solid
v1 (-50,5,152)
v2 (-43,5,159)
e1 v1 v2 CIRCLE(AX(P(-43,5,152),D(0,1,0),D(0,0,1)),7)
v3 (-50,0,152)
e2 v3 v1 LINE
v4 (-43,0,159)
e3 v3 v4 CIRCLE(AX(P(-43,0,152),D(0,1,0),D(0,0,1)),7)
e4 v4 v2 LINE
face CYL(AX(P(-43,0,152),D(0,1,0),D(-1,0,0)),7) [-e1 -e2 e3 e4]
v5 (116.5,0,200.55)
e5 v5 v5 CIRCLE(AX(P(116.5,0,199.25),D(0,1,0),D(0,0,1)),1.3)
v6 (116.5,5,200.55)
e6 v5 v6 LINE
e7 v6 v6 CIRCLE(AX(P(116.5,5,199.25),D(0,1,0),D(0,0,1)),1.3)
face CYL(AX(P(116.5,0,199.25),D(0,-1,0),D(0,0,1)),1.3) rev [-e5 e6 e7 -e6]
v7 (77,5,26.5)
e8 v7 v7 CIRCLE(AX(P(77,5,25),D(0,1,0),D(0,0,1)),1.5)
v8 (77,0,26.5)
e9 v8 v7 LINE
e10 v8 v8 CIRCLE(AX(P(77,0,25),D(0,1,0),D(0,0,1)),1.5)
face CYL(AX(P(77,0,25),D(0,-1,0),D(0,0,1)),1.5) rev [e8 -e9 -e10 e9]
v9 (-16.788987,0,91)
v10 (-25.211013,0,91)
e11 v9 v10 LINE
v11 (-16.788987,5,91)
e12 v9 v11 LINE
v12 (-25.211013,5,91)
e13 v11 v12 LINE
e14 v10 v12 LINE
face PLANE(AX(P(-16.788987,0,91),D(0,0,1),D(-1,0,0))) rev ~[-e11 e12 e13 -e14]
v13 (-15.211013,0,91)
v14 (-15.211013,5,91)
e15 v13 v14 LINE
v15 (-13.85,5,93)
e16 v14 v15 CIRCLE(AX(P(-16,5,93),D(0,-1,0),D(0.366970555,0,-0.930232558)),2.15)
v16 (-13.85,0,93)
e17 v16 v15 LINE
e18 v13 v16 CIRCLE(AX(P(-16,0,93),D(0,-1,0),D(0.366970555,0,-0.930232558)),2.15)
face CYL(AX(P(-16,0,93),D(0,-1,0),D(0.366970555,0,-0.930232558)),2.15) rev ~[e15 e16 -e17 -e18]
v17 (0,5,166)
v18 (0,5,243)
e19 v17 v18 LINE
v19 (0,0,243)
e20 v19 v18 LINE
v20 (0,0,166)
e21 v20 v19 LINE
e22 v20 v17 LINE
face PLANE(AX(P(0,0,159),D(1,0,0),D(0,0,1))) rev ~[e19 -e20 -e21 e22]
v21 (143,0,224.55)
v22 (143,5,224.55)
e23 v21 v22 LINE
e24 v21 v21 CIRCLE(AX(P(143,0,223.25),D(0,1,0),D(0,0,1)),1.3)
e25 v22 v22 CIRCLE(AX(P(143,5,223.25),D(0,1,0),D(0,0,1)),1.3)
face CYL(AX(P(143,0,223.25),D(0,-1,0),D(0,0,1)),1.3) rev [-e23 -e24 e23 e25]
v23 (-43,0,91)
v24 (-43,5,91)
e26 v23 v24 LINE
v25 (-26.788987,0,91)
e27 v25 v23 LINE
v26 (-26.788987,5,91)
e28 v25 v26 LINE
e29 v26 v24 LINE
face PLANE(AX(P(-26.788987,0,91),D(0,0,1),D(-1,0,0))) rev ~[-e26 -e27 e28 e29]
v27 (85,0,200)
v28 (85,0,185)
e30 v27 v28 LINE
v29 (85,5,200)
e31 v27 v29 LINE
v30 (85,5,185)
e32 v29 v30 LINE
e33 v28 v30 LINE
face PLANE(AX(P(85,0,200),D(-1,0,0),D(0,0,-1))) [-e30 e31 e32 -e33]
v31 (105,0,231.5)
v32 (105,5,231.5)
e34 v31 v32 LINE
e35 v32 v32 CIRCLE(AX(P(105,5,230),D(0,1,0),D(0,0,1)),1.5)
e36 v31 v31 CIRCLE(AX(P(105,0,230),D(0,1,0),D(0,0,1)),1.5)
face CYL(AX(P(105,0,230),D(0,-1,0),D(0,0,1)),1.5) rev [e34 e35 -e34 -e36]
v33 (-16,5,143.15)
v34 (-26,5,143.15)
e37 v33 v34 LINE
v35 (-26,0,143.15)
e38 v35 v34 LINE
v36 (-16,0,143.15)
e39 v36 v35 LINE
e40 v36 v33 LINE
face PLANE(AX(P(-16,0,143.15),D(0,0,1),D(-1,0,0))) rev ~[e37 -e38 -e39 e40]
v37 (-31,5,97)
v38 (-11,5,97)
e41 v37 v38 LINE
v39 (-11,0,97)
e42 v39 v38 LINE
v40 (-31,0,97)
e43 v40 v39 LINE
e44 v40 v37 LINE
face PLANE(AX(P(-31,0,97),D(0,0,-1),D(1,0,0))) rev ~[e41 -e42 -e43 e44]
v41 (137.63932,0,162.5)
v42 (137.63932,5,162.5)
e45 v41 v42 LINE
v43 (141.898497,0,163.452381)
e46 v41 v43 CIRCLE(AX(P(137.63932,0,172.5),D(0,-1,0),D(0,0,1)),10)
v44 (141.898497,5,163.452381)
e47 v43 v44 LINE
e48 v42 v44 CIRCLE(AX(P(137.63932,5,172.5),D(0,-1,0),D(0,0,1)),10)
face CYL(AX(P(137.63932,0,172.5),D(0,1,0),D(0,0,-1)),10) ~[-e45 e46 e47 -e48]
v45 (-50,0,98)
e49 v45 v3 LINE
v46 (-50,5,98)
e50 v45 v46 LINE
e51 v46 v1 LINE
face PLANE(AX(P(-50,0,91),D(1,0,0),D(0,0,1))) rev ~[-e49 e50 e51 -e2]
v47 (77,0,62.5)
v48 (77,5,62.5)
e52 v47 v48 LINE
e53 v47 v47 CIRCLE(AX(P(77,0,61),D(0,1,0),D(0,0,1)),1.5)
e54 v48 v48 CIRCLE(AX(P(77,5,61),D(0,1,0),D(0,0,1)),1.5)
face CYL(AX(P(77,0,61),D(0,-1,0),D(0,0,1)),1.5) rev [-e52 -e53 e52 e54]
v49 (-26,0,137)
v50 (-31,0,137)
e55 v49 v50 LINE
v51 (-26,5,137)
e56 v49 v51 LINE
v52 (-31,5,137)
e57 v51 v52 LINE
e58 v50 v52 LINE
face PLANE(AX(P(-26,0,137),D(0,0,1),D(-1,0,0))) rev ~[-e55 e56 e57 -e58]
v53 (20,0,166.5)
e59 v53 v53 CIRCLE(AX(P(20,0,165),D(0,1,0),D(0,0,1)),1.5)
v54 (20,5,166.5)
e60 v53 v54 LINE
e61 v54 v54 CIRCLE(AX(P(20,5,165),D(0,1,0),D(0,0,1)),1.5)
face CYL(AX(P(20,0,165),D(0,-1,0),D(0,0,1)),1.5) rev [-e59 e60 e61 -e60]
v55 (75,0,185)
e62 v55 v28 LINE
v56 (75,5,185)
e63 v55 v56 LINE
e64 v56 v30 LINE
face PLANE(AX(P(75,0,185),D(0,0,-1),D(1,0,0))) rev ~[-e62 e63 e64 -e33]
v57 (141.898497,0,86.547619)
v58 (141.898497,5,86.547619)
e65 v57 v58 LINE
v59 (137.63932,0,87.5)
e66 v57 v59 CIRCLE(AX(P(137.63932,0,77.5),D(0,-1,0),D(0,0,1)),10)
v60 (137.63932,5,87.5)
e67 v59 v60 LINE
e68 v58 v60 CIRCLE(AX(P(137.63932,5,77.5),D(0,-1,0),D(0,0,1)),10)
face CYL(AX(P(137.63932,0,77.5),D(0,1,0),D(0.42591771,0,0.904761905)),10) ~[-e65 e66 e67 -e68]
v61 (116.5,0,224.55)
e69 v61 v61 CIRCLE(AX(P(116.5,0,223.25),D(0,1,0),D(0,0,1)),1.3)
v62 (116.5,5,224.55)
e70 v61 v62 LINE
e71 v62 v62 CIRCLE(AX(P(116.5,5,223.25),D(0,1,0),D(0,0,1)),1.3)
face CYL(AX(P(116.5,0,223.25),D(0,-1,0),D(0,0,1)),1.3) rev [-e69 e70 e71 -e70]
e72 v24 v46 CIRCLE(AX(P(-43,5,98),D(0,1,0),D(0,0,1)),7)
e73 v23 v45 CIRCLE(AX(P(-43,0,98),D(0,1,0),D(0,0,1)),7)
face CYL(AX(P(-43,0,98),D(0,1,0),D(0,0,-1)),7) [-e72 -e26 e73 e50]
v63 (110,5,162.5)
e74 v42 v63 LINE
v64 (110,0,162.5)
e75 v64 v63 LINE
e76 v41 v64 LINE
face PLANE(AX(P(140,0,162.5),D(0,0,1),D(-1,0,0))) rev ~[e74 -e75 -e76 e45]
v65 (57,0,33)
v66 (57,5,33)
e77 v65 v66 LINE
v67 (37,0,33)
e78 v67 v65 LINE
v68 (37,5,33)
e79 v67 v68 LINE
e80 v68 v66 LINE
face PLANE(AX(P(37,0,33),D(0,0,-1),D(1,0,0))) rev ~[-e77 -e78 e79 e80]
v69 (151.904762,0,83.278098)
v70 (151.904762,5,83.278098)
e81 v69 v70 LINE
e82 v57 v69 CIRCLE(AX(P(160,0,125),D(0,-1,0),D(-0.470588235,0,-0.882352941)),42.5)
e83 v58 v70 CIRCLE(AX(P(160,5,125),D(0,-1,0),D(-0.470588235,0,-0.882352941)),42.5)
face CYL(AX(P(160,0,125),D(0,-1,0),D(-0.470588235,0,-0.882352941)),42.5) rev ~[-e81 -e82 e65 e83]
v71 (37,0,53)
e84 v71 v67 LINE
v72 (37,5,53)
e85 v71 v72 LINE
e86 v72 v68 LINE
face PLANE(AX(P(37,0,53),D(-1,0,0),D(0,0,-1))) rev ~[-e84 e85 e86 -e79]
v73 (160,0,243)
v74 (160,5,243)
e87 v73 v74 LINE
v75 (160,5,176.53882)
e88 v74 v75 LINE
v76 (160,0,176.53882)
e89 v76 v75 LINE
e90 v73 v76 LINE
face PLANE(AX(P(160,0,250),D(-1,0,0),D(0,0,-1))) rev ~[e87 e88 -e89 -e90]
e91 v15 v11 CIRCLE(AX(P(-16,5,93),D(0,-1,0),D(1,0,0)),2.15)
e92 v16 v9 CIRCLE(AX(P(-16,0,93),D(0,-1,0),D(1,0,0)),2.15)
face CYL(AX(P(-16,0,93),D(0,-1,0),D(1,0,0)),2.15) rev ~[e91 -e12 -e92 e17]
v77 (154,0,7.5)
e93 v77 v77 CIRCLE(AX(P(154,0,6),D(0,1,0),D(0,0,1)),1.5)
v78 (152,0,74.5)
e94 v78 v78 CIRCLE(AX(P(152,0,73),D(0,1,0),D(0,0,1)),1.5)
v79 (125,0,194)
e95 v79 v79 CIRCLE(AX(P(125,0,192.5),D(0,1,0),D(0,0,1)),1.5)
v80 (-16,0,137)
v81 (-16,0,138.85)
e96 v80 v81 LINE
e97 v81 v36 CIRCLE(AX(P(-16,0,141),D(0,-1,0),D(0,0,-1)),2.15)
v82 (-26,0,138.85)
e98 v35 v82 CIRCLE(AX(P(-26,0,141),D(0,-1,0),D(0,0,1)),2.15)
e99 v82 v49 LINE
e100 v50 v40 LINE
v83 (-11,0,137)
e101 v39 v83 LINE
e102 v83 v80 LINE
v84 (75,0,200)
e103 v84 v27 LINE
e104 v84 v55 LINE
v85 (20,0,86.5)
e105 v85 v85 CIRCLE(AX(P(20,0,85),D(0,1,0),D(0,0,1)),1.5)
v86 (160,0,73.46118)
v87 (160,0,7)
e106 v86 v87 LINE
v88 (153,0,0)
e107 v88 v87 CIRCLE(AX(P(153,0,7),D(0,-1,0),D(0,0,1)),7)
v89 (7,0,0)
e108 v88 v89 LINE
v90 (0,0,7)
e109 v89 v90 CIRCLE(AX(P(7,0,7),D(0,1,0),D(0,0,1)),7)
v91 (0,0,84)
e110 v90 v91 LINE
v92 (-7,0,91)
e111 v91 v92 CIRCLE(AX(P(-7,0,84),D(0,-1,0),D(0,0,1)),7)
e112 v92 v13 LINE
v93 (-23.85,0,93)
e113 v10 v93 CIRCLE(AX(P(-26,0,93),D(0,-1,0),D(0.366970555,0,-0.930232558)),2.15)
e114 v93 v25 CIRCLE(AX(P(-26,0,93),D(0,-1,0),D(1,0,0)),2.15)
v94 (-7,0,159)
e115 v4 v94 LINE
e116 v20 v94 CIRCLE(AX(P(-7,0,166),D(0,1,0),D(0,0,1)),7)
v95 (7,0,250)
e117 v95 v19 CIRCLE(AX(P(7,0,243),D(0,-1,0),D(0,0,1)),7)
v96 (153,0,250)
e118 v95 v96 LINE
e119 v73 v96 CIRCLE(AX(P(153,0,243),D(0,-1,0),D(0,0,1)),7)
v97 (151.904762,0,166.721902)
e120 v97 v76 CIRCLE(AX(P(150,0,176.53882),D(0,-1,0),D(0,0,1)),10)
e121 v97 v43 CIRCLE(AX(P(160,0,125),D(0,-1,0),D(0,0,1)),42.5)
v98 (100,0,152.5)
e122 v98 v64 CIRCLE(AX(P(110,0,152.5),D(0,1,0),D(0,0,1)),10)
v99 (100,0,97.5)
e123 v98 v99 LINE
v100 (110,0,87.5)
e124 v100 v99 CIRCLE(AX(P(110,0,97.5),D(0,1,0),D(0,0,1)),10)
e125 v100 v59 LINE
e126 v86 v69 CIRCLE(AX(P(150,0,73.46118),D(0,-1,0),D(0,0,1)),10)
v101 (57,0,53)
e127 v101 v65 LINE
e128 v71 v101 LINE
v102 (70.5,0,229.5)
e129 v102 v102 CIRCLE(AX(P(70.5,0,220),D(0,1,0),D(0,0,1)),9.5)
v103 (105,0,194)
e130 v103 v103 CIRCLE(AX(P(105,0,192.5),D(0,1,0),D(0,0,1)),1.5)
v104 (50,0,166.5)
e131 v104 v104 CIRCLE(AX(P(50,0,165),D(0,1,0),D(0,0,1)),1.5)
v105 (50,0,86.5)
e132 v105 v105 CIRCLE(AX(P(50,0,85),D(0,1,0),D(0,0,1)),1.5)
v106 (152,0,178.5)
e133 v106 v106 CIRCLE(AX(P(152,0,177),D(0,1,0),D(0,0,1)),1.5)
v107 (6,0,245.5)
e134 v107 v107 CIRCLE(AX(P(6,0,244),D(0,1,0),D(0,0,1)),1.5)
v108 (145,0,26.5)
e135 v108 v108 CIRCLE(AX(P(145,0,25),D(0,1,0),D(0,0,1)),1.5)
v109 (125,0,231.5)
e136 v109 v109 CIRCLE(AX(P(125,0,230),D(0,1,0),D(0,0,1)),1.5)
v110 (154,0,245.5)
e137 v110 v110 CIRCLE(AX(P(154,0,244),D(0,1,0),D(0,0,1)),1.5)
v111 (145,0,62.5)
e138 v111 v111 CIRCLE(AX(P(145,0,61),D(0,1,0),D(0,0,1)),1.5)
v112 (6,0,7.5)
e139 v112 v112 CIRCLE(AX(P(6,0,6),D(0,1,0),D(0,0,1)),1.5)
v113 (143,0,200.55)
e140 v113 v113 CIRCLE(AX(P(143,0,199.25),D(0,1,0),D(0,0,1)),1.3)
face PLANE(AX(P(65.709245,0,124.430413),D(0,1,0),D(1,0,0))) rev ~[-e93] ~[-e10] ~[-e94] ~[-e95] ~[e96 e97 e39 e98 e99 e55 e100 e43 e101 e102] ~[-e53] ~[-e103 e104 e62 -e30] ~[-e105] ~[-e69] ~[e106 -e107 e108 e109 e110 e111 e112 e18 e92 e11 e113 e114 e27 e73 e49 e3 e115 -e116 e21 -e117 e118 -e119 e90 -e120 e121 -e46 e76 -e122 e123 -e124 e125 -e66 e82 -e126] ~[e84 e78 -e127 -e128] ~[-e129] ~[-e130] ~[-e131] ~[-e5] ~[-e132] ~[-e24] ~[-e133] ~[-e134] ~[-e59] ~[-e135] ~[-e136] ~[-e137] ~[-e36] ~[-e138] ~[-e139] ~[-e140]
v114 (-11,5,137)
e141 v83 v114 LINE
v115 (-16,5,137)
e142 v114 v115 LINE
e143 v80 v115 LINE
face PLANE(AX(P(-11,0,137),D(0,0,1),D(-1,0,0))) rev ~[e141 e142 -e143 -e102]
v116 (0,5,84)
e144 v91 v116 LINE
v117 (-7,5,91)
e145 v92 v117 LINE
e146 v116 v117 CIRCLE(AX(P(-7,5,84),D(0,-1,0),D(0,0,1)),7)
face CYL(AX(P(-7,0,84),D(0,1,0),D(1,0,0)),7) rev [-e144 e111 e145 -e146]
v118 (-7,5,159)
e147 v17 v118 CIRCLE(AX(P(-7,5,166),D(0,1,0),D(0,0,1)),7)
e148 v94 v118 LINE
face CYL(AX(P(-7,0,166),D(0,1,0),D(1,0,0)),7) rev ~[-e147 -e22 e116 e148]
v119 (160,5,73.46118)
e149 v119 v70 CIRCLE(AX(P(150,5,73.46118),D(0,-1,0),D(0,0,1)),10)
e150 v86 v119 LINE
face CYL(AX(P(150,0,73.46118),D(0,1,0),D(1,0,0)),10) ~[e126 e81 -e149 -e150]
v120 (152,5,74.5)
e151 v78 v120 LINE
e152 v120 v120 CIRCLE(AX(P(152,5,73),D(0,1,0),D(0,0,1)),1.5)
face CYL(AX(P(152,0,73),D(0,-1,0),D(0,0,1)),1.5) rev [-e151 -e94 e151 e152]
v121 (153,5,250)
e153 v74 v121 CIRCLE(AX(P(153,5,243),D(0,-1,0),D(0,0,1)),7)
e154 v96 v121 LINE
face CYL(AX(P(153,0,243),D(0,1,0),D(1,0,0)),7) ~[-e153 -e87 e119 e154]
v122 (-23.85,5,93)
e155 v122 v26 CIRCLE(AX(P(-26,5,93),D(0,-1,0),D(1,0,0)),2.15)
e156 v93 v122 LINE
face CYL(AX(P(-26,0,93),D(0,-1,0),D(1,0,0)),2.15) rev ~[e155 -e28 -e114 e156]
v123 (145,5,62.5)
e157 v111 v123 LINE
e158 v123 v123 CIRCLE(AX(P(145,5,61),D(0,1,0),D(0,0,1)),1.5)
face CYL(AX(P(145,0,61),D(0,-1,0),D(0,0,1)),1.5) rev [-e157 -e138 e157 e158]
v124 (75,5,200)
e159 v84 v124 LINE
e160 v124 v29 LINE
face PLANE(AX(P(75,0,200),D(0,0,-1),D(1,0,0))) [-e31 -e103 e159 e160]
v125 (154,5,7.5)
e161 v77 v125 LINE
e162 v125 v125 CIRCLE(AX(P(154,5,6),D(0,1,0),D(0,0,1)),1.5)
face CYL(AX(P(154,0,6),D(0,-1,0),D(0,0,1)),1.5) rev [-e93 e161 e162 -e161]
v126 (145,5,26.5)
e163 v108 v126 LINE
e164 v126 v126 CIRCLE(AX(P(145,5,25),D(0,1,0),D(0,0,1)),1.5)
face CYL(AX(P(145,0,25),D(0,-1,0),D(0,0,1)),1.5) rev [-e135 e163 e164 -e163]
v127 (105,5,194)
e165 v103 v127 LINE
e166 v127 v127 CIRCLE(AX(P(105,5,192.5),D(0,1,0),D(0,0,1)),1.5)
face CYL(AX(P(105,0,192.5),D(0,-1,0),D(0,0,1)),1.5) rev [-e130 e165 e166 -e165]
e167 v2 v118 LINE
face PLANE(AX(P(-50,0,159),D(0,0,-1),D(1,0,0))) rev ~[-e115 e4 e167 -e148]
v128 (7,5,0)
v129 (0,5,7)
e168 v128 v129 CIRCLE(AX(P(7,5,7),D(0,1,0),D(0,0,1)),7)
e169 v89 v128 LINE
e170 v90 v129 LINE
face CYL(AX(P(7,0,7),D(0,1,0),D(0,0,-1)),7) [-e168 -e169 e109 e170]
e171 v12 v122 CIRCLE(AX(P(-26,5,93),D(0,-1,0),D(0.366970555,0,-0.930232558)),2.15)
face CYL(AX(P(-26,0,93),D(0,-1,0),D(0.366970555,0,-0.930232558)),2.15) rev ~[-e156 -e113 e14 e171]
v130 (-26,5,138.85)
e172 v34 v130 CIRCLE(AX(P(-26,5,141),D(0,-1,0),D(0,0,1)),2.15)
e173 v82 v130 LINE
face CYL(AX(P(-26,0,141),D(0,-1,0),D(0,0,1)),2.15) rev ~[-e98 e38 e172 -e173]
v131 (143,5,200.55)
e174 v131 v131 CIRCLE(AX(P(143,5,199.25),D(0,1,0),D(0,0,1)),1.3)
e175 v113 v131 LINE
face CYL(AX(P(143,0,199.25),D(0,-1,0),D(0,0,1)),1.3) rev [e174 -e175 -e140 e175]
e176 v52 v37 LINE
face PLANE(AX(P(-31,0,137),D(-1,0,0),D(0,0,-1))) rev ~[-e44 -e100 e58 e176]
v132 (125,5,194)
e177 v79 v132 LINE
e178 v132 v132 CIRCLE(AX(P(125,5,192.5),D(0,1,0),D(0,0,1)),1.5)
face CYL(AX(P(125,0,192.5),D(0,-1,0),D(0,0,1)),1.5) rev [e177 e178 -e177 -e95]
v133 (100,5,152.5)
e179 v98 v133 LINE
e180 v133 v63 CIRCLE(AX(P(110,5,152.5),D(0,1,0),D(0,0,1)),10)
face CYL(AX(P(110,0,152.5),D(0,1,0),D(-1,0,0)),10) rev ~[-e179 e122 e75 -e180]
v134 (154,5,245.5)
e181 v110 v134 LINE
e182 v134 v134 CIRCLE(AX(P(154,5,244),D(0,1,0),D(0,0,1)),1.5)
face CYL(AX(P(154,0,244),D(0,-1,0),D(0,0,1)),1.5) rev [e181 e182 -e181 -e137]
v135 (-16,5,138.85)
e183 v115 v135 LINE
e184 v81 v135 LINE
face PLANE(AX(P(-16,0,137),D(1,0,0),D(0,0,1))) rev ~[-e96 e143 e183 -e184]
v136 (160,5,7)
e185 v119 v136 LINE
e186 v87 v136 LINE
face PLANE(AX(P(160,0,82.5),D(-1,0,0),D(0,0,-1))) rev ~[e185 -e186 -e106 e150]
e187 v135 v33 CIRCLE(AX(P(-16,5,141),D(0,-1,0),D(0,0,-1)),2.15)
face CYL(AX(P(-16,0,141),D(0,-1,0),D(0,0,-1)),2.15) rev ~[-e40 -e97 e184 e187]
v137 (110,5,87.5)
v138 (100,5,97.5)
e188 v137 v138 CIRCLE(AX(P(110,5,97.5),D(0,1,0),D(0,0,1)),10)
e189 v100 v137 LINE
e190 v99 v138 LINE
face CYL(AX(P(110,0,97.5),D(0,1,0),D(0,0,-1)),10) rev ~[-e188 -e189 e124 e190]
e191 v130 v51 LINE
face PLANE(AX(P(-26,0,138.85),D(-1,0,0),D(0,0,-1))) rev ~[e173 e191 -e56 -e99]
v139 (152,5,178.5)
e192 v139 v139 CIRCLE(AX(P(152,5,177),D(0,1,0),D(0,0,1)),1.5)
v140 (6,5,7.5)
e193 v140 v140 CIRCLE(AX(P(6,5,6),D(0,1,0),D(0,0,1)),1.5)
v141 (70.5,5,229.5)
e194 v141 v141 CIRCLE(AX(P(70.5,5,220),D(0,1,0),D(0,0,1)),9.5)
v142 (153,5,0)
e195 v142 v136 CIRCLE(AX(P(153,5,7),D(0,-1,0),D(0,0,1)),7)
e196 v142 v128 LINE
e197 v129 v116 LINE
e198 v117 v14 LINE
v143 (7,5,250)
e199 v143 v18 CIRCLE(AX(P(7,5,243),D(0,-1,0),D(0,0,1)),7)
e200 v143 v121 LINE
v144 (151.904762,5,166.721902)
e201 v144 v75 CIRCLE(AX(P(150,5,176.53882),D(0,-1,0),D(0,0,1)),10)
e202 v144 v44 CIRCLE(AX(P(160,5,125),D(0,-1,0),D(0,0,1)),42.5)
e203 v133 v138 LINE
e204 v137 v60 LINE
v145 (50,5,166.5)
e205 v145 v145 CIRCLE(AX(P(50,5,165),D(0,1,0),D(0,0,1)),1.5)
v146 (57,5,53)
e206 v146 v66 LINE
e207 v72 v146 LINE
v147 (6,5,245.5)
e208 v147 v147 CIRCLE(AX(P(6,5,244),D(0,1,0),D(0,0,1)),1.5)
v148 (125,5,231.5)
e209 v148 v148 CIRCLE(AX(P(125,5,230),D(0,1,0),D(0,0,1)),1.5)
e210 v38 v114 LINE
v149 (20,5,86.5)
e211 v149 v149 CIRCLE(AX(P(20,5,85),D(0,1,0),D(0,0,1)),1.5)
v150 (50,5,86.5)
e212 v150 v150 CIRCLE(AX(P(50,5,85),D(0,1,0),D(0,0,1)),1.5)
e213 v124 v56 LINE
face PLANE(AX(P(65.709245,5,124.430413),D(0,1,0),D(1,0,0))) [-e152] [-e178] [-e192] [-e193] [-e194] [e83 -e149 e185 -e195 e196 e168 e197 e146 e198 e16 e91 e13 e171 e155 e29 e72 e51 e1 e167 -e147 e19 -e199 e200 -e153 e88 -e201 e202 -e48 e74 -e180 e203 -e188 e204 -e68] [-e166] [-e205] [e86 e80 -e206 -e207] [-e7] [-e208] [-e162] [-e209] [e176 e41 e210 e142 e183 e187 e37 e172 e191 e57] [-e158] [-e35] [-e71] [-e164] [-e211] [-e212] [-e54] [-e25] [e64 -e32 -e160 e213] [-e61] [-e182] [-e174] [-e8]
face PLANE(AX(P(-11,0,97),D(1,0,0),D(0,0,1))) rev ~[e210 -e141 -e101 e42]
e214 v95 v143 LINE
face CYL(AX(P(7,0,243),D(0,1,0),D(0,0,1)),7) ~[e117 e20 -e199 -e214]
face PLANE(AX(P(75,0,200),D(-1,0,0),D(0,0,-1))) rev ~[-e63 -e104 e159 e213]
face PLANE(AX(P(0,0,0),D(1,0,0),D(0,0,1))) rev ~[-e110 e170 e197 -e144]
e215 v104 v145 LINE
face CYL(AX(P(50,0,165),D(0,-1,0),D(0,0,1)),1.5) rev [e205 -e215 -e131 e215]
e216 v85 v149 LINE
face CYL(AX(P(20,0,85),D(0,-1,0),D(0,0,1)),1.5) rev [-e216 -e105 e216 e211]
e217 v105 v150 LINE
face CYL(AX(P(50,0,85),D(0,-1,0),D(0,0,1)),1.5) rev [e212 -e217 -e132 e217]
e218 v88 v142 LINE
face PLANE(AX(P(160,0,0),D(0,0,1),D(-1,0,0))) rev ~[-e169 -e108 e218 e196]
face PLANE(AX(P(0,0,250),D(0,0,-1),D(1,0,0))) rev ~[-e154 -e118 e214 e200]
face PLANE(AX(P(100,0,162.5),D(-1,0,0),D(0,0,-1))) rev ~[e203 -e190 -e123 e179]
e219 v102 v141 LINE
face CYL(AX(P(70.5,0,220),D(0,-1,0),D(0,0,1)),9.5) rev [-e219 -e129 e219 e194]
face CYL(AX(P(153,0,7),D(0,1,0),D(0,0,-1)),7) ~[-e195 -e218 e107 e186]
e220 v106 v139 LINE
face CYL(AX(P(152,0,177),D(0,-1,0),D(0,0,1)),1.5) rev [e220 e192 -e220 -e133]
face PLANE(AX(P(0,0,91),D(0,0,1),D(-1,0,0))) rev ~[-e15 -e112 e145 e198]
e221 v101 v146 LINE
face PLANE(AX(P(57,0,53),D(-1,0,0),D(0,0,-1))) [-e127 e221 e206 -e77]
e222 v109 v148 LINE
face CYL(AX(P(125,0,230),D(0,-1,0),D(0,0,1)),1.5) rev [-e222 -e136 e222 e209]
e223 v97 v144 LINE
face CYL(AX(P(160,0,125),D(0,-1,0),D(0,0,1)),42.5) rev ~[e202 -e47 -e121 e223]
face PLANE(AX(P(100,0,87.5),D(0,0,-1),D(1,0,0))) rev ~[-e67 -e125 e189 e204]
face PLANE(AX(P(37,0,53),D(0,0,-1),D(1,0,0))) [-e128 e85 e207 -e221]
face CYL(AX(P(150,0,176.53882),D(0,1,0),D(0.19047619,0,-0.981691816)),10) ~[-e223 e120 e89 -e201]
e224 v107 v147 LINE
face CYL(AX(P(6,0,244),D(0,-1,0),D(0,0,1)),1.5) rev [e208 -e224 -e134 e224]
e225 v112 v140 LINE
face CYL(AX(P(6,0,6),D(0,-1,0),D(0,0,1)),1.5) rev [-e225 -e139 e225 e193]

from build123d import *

# Parameters (mm, degrees)
SKETCH_1_R      = 1.5
SKETCH_1_R_2    = 9.5
SKETCH_1_W      = 10
SKETCH_1_H      = 15
SKETCH_1_R_3    = 1.3
SKETCH_1_W_2    = 20
SKETCH_1_H_2    = 20
EXTRUDE_1_DEPTH = 5
FILLET_1_R      = 7
FILLET_2_R      = 10


with BuildPart() as part:
    # 草图1 → 凸台-拉伸1 (new body)
    with BuildSketch(Plane(origin=(0, 0, 0), x_dir=(1, 0, 0), z_dir=(0, 1, 0))):
        with BuildLine():
            Line((160, 0), (0, 0))
            Line((0, 0), (0, -91))
            Line((0, -91), (-15.211013308, -91))
            ThreePointArc((-15.211013308, -91), (-14.22252688, -91.790417714), (-13.85, -93))
            ThreePointArc((-13.85, -93), (-17.209582286, -94.77747312), (-16.788986692, -91))
            Line((-16.788986692, -91), (-25.211013308, -91))
            ThreePointArc((-25.211013308, -91), (-24.22252688, -91.790417714), (-23.85, -93))
            ThreePointArc((-23.85, -93), (-27.209582286, -94.77747312), (-26.788986692, -91))
            Line((-26.788986692, -91), (-50, -91))
            Line((-50, -91), (-50, -159))
            Line((-50, -159), (0, -159))
            Line((0, -159), (0, -250))
            Line((0, -250), (160, -250))
            Line((160, -250), (160, -167.5))
            ThreePointArc((160, -167.5), (149.692235936, -166.231056256), (140, -162.5))
            Line((140, -162.5), (100, -162.5))
            Line((100, -162.5), (100, -87.5))
            Line((100, -87.5), (140, -87.5))
            ThreePointArc((140, -87.5), (149.692235936, -83.768943744), (160, -82.5))
            Line((160, -82.5), (160, 0))
        make_face()
        with Locations(Location((6, -244, 0), (0, 0, 270))):
            Circle(SKETCH_1_R, mode=Mode.SUBTRACT)
        with Locations(Location((20, -165, 0), (0, 0, 270))):
            Circle(SKETCH_1_R, mode=Mode.SUBTRACT)
        with Locations(Location((50, -165, 0), (0, 0, 270))):
            Circle(SKETCH_1_R, mode=Mode.SUBTRACT)
        with Locations(Location((70.5, -220, 0), (0, 0, 270))):
            Circle(SKETCH_1_R_2, mode=Mode.SUBTRACT)
        with Locations(Location((105, -230, 0), (0, 0, 270))):
            Circle(SKETCH_1_R, mode=Mode.SUBTRACT)
        with Locations((80, -192.5)):
            Rectangle(SKETCH_1_W, SKETCH_1_H, mode=Mode.SUBTRACT)
        with Locations(Location((105, -192.5, 0), (0, 0, 270))):
            Circle(SKETCH_1_R, mode=Mode.SUBTRACT)
        with Locations(Location((116.5, -223.25, 0), (0, 0, 270))):
            Circle(SKETCH_1_R_3, mode=Mode.SUBTRACT)
        with Locations(Location((125, -230, 0), (0, 0, 270))):
            Circle(SKETCH_1_R, mode=Mode.SUBTRACT)
        with Locations(Location((154, -244, 0), (0, 0, 270))):
            Circle(SKETCH_1_R, mode=Mode.SUBTRACT)
        with Locations(Location((143, -223.25, 0), (0, 0, 270))):
            Circle(SKETCH_1_R_3, mode=Mode.SUBTRACT)
        with Locations(Location((116.5, -199.25, 0), (0, 0, 270))):
            Circle(SKETCH_1_R_3, mode=Mode.SUBTRACT)
        with Locations(Location((125, -192.5, 0), (0, 0, 270))):
            Circle(SKETCH_1_R, mode=Mode.SUBTRACT)
        with Locations(Location((143, -199.25, 0), (0, 0, 270))):
            Circle(SKETCH_1_R_3, mode=Mode.SUBTRACT)
        with Locations(Location((152, -177, 0), (0, 0, 270))):
            Circle(SKETCH_1_R, mode=Mode.SUBTRACT)
        with BuildLine():
            Line((-31, -137), (-31, -97))
            Line((-31, -97), (-11, -97))
            Line((-11, -97), (-11, -137))
            Line((-11, -137), (-16, -137))
            Line((-16, -137), (-16, -138.85))
            ThreePointArc((-16, -138.85), (-13.85, -141), (-16, -143.15))
            Line((-16, -143.15), (-26, -143.15))
            ThreePointArc((-26, -143.15), (-28.15, -141), (-26, -138.85))
            Line((-26, -138.85), (-26, -137))
            Line((-26, -137), (-31, -137))
        make_face(mode=Mode.SUBTRACT)
        with Locations(Location((20, -85, 0), (0, 0, 270))):
            Circle(SKETCH_1_R, mode=Mode.SUBTRACT)
        with Locations(Location((50, -85, 0), (0, 0, 270))):
            Circle(SKETCH_1_R, mode=Mode.SUBTRACT)
        with Locations((47, -43)):
            Rectangle(SKETCH_1_W_2, SKETCH_1_H_2, mode=Mode.SUBTRACT)
        with Locations(Location((6, -6, 0), (0, 0, 270))):
            Circle(SKETCH_1_R, mode=Mode.SUBTRACT)
        with Locations(Location((152, -73, 0), (0, 0, 270))):
            Circle(SKETCH_1_R, mode=Mode.SUBTRACT)
        with Locations(Location((77, -61, 0), (0, 0, 270))):
            Circle(SKETCH_1_R, mode=Mode.SUBTRACT)
        with Locations(Location((77, -25, 0), (0, 0, 270))):
            Circle(SKETCH_1_R, mode=Mode.SUBTRACT)
        with Locations(Location((145, -61, 0), (0, 0, 270))):
            Circle(SKETCH_1_R, mode=Mode.SUBTRACT)
        with Locations(Location((145, -25, 0), (0, 0, 270))):
            Circle(SKETCH_1_R, mode=Mode.SUBTRACT)
        with Locations(Location((154, -6, 0), (0, 0, 270))):
            Circle(SKETCH_1_R, mode=Mode.SUBTRACT)
    extrude(amount=EXTRUDE_1_DEPTH)

    # 圆角1
    fillet_1_edges = [part.edges().sort_by_distance(p)[0] for p in [
        (0, 2.5, 91),
        (0, 2.5, 0),
        (160, 2.5, 0),
        (160, 2.5, 250),
        (0, 2.5, 250),
        (0, 2.5, 159),
        (-50, 2.5, 159),
        (-50, 2.5, 91),
    ]]
    fillet(fillet_1_edges, radius=FILLET_1_R)

    # 圆角2
    fillet_2_edges = [part.edges().sort_by_distance(p)[0] for p in [
        (160, 2.5, 82.5),
        (140, 2.5, 87.5),
        (100, 2.5, 87.5),
        (100, 2.5, 162.5),
        (140, 2.5, 162.5),
        (160, 2.5, 167.5),
    ]]
    fillet(fillet_2_edges, radius=FILLET_2_R)


solid = part.part
